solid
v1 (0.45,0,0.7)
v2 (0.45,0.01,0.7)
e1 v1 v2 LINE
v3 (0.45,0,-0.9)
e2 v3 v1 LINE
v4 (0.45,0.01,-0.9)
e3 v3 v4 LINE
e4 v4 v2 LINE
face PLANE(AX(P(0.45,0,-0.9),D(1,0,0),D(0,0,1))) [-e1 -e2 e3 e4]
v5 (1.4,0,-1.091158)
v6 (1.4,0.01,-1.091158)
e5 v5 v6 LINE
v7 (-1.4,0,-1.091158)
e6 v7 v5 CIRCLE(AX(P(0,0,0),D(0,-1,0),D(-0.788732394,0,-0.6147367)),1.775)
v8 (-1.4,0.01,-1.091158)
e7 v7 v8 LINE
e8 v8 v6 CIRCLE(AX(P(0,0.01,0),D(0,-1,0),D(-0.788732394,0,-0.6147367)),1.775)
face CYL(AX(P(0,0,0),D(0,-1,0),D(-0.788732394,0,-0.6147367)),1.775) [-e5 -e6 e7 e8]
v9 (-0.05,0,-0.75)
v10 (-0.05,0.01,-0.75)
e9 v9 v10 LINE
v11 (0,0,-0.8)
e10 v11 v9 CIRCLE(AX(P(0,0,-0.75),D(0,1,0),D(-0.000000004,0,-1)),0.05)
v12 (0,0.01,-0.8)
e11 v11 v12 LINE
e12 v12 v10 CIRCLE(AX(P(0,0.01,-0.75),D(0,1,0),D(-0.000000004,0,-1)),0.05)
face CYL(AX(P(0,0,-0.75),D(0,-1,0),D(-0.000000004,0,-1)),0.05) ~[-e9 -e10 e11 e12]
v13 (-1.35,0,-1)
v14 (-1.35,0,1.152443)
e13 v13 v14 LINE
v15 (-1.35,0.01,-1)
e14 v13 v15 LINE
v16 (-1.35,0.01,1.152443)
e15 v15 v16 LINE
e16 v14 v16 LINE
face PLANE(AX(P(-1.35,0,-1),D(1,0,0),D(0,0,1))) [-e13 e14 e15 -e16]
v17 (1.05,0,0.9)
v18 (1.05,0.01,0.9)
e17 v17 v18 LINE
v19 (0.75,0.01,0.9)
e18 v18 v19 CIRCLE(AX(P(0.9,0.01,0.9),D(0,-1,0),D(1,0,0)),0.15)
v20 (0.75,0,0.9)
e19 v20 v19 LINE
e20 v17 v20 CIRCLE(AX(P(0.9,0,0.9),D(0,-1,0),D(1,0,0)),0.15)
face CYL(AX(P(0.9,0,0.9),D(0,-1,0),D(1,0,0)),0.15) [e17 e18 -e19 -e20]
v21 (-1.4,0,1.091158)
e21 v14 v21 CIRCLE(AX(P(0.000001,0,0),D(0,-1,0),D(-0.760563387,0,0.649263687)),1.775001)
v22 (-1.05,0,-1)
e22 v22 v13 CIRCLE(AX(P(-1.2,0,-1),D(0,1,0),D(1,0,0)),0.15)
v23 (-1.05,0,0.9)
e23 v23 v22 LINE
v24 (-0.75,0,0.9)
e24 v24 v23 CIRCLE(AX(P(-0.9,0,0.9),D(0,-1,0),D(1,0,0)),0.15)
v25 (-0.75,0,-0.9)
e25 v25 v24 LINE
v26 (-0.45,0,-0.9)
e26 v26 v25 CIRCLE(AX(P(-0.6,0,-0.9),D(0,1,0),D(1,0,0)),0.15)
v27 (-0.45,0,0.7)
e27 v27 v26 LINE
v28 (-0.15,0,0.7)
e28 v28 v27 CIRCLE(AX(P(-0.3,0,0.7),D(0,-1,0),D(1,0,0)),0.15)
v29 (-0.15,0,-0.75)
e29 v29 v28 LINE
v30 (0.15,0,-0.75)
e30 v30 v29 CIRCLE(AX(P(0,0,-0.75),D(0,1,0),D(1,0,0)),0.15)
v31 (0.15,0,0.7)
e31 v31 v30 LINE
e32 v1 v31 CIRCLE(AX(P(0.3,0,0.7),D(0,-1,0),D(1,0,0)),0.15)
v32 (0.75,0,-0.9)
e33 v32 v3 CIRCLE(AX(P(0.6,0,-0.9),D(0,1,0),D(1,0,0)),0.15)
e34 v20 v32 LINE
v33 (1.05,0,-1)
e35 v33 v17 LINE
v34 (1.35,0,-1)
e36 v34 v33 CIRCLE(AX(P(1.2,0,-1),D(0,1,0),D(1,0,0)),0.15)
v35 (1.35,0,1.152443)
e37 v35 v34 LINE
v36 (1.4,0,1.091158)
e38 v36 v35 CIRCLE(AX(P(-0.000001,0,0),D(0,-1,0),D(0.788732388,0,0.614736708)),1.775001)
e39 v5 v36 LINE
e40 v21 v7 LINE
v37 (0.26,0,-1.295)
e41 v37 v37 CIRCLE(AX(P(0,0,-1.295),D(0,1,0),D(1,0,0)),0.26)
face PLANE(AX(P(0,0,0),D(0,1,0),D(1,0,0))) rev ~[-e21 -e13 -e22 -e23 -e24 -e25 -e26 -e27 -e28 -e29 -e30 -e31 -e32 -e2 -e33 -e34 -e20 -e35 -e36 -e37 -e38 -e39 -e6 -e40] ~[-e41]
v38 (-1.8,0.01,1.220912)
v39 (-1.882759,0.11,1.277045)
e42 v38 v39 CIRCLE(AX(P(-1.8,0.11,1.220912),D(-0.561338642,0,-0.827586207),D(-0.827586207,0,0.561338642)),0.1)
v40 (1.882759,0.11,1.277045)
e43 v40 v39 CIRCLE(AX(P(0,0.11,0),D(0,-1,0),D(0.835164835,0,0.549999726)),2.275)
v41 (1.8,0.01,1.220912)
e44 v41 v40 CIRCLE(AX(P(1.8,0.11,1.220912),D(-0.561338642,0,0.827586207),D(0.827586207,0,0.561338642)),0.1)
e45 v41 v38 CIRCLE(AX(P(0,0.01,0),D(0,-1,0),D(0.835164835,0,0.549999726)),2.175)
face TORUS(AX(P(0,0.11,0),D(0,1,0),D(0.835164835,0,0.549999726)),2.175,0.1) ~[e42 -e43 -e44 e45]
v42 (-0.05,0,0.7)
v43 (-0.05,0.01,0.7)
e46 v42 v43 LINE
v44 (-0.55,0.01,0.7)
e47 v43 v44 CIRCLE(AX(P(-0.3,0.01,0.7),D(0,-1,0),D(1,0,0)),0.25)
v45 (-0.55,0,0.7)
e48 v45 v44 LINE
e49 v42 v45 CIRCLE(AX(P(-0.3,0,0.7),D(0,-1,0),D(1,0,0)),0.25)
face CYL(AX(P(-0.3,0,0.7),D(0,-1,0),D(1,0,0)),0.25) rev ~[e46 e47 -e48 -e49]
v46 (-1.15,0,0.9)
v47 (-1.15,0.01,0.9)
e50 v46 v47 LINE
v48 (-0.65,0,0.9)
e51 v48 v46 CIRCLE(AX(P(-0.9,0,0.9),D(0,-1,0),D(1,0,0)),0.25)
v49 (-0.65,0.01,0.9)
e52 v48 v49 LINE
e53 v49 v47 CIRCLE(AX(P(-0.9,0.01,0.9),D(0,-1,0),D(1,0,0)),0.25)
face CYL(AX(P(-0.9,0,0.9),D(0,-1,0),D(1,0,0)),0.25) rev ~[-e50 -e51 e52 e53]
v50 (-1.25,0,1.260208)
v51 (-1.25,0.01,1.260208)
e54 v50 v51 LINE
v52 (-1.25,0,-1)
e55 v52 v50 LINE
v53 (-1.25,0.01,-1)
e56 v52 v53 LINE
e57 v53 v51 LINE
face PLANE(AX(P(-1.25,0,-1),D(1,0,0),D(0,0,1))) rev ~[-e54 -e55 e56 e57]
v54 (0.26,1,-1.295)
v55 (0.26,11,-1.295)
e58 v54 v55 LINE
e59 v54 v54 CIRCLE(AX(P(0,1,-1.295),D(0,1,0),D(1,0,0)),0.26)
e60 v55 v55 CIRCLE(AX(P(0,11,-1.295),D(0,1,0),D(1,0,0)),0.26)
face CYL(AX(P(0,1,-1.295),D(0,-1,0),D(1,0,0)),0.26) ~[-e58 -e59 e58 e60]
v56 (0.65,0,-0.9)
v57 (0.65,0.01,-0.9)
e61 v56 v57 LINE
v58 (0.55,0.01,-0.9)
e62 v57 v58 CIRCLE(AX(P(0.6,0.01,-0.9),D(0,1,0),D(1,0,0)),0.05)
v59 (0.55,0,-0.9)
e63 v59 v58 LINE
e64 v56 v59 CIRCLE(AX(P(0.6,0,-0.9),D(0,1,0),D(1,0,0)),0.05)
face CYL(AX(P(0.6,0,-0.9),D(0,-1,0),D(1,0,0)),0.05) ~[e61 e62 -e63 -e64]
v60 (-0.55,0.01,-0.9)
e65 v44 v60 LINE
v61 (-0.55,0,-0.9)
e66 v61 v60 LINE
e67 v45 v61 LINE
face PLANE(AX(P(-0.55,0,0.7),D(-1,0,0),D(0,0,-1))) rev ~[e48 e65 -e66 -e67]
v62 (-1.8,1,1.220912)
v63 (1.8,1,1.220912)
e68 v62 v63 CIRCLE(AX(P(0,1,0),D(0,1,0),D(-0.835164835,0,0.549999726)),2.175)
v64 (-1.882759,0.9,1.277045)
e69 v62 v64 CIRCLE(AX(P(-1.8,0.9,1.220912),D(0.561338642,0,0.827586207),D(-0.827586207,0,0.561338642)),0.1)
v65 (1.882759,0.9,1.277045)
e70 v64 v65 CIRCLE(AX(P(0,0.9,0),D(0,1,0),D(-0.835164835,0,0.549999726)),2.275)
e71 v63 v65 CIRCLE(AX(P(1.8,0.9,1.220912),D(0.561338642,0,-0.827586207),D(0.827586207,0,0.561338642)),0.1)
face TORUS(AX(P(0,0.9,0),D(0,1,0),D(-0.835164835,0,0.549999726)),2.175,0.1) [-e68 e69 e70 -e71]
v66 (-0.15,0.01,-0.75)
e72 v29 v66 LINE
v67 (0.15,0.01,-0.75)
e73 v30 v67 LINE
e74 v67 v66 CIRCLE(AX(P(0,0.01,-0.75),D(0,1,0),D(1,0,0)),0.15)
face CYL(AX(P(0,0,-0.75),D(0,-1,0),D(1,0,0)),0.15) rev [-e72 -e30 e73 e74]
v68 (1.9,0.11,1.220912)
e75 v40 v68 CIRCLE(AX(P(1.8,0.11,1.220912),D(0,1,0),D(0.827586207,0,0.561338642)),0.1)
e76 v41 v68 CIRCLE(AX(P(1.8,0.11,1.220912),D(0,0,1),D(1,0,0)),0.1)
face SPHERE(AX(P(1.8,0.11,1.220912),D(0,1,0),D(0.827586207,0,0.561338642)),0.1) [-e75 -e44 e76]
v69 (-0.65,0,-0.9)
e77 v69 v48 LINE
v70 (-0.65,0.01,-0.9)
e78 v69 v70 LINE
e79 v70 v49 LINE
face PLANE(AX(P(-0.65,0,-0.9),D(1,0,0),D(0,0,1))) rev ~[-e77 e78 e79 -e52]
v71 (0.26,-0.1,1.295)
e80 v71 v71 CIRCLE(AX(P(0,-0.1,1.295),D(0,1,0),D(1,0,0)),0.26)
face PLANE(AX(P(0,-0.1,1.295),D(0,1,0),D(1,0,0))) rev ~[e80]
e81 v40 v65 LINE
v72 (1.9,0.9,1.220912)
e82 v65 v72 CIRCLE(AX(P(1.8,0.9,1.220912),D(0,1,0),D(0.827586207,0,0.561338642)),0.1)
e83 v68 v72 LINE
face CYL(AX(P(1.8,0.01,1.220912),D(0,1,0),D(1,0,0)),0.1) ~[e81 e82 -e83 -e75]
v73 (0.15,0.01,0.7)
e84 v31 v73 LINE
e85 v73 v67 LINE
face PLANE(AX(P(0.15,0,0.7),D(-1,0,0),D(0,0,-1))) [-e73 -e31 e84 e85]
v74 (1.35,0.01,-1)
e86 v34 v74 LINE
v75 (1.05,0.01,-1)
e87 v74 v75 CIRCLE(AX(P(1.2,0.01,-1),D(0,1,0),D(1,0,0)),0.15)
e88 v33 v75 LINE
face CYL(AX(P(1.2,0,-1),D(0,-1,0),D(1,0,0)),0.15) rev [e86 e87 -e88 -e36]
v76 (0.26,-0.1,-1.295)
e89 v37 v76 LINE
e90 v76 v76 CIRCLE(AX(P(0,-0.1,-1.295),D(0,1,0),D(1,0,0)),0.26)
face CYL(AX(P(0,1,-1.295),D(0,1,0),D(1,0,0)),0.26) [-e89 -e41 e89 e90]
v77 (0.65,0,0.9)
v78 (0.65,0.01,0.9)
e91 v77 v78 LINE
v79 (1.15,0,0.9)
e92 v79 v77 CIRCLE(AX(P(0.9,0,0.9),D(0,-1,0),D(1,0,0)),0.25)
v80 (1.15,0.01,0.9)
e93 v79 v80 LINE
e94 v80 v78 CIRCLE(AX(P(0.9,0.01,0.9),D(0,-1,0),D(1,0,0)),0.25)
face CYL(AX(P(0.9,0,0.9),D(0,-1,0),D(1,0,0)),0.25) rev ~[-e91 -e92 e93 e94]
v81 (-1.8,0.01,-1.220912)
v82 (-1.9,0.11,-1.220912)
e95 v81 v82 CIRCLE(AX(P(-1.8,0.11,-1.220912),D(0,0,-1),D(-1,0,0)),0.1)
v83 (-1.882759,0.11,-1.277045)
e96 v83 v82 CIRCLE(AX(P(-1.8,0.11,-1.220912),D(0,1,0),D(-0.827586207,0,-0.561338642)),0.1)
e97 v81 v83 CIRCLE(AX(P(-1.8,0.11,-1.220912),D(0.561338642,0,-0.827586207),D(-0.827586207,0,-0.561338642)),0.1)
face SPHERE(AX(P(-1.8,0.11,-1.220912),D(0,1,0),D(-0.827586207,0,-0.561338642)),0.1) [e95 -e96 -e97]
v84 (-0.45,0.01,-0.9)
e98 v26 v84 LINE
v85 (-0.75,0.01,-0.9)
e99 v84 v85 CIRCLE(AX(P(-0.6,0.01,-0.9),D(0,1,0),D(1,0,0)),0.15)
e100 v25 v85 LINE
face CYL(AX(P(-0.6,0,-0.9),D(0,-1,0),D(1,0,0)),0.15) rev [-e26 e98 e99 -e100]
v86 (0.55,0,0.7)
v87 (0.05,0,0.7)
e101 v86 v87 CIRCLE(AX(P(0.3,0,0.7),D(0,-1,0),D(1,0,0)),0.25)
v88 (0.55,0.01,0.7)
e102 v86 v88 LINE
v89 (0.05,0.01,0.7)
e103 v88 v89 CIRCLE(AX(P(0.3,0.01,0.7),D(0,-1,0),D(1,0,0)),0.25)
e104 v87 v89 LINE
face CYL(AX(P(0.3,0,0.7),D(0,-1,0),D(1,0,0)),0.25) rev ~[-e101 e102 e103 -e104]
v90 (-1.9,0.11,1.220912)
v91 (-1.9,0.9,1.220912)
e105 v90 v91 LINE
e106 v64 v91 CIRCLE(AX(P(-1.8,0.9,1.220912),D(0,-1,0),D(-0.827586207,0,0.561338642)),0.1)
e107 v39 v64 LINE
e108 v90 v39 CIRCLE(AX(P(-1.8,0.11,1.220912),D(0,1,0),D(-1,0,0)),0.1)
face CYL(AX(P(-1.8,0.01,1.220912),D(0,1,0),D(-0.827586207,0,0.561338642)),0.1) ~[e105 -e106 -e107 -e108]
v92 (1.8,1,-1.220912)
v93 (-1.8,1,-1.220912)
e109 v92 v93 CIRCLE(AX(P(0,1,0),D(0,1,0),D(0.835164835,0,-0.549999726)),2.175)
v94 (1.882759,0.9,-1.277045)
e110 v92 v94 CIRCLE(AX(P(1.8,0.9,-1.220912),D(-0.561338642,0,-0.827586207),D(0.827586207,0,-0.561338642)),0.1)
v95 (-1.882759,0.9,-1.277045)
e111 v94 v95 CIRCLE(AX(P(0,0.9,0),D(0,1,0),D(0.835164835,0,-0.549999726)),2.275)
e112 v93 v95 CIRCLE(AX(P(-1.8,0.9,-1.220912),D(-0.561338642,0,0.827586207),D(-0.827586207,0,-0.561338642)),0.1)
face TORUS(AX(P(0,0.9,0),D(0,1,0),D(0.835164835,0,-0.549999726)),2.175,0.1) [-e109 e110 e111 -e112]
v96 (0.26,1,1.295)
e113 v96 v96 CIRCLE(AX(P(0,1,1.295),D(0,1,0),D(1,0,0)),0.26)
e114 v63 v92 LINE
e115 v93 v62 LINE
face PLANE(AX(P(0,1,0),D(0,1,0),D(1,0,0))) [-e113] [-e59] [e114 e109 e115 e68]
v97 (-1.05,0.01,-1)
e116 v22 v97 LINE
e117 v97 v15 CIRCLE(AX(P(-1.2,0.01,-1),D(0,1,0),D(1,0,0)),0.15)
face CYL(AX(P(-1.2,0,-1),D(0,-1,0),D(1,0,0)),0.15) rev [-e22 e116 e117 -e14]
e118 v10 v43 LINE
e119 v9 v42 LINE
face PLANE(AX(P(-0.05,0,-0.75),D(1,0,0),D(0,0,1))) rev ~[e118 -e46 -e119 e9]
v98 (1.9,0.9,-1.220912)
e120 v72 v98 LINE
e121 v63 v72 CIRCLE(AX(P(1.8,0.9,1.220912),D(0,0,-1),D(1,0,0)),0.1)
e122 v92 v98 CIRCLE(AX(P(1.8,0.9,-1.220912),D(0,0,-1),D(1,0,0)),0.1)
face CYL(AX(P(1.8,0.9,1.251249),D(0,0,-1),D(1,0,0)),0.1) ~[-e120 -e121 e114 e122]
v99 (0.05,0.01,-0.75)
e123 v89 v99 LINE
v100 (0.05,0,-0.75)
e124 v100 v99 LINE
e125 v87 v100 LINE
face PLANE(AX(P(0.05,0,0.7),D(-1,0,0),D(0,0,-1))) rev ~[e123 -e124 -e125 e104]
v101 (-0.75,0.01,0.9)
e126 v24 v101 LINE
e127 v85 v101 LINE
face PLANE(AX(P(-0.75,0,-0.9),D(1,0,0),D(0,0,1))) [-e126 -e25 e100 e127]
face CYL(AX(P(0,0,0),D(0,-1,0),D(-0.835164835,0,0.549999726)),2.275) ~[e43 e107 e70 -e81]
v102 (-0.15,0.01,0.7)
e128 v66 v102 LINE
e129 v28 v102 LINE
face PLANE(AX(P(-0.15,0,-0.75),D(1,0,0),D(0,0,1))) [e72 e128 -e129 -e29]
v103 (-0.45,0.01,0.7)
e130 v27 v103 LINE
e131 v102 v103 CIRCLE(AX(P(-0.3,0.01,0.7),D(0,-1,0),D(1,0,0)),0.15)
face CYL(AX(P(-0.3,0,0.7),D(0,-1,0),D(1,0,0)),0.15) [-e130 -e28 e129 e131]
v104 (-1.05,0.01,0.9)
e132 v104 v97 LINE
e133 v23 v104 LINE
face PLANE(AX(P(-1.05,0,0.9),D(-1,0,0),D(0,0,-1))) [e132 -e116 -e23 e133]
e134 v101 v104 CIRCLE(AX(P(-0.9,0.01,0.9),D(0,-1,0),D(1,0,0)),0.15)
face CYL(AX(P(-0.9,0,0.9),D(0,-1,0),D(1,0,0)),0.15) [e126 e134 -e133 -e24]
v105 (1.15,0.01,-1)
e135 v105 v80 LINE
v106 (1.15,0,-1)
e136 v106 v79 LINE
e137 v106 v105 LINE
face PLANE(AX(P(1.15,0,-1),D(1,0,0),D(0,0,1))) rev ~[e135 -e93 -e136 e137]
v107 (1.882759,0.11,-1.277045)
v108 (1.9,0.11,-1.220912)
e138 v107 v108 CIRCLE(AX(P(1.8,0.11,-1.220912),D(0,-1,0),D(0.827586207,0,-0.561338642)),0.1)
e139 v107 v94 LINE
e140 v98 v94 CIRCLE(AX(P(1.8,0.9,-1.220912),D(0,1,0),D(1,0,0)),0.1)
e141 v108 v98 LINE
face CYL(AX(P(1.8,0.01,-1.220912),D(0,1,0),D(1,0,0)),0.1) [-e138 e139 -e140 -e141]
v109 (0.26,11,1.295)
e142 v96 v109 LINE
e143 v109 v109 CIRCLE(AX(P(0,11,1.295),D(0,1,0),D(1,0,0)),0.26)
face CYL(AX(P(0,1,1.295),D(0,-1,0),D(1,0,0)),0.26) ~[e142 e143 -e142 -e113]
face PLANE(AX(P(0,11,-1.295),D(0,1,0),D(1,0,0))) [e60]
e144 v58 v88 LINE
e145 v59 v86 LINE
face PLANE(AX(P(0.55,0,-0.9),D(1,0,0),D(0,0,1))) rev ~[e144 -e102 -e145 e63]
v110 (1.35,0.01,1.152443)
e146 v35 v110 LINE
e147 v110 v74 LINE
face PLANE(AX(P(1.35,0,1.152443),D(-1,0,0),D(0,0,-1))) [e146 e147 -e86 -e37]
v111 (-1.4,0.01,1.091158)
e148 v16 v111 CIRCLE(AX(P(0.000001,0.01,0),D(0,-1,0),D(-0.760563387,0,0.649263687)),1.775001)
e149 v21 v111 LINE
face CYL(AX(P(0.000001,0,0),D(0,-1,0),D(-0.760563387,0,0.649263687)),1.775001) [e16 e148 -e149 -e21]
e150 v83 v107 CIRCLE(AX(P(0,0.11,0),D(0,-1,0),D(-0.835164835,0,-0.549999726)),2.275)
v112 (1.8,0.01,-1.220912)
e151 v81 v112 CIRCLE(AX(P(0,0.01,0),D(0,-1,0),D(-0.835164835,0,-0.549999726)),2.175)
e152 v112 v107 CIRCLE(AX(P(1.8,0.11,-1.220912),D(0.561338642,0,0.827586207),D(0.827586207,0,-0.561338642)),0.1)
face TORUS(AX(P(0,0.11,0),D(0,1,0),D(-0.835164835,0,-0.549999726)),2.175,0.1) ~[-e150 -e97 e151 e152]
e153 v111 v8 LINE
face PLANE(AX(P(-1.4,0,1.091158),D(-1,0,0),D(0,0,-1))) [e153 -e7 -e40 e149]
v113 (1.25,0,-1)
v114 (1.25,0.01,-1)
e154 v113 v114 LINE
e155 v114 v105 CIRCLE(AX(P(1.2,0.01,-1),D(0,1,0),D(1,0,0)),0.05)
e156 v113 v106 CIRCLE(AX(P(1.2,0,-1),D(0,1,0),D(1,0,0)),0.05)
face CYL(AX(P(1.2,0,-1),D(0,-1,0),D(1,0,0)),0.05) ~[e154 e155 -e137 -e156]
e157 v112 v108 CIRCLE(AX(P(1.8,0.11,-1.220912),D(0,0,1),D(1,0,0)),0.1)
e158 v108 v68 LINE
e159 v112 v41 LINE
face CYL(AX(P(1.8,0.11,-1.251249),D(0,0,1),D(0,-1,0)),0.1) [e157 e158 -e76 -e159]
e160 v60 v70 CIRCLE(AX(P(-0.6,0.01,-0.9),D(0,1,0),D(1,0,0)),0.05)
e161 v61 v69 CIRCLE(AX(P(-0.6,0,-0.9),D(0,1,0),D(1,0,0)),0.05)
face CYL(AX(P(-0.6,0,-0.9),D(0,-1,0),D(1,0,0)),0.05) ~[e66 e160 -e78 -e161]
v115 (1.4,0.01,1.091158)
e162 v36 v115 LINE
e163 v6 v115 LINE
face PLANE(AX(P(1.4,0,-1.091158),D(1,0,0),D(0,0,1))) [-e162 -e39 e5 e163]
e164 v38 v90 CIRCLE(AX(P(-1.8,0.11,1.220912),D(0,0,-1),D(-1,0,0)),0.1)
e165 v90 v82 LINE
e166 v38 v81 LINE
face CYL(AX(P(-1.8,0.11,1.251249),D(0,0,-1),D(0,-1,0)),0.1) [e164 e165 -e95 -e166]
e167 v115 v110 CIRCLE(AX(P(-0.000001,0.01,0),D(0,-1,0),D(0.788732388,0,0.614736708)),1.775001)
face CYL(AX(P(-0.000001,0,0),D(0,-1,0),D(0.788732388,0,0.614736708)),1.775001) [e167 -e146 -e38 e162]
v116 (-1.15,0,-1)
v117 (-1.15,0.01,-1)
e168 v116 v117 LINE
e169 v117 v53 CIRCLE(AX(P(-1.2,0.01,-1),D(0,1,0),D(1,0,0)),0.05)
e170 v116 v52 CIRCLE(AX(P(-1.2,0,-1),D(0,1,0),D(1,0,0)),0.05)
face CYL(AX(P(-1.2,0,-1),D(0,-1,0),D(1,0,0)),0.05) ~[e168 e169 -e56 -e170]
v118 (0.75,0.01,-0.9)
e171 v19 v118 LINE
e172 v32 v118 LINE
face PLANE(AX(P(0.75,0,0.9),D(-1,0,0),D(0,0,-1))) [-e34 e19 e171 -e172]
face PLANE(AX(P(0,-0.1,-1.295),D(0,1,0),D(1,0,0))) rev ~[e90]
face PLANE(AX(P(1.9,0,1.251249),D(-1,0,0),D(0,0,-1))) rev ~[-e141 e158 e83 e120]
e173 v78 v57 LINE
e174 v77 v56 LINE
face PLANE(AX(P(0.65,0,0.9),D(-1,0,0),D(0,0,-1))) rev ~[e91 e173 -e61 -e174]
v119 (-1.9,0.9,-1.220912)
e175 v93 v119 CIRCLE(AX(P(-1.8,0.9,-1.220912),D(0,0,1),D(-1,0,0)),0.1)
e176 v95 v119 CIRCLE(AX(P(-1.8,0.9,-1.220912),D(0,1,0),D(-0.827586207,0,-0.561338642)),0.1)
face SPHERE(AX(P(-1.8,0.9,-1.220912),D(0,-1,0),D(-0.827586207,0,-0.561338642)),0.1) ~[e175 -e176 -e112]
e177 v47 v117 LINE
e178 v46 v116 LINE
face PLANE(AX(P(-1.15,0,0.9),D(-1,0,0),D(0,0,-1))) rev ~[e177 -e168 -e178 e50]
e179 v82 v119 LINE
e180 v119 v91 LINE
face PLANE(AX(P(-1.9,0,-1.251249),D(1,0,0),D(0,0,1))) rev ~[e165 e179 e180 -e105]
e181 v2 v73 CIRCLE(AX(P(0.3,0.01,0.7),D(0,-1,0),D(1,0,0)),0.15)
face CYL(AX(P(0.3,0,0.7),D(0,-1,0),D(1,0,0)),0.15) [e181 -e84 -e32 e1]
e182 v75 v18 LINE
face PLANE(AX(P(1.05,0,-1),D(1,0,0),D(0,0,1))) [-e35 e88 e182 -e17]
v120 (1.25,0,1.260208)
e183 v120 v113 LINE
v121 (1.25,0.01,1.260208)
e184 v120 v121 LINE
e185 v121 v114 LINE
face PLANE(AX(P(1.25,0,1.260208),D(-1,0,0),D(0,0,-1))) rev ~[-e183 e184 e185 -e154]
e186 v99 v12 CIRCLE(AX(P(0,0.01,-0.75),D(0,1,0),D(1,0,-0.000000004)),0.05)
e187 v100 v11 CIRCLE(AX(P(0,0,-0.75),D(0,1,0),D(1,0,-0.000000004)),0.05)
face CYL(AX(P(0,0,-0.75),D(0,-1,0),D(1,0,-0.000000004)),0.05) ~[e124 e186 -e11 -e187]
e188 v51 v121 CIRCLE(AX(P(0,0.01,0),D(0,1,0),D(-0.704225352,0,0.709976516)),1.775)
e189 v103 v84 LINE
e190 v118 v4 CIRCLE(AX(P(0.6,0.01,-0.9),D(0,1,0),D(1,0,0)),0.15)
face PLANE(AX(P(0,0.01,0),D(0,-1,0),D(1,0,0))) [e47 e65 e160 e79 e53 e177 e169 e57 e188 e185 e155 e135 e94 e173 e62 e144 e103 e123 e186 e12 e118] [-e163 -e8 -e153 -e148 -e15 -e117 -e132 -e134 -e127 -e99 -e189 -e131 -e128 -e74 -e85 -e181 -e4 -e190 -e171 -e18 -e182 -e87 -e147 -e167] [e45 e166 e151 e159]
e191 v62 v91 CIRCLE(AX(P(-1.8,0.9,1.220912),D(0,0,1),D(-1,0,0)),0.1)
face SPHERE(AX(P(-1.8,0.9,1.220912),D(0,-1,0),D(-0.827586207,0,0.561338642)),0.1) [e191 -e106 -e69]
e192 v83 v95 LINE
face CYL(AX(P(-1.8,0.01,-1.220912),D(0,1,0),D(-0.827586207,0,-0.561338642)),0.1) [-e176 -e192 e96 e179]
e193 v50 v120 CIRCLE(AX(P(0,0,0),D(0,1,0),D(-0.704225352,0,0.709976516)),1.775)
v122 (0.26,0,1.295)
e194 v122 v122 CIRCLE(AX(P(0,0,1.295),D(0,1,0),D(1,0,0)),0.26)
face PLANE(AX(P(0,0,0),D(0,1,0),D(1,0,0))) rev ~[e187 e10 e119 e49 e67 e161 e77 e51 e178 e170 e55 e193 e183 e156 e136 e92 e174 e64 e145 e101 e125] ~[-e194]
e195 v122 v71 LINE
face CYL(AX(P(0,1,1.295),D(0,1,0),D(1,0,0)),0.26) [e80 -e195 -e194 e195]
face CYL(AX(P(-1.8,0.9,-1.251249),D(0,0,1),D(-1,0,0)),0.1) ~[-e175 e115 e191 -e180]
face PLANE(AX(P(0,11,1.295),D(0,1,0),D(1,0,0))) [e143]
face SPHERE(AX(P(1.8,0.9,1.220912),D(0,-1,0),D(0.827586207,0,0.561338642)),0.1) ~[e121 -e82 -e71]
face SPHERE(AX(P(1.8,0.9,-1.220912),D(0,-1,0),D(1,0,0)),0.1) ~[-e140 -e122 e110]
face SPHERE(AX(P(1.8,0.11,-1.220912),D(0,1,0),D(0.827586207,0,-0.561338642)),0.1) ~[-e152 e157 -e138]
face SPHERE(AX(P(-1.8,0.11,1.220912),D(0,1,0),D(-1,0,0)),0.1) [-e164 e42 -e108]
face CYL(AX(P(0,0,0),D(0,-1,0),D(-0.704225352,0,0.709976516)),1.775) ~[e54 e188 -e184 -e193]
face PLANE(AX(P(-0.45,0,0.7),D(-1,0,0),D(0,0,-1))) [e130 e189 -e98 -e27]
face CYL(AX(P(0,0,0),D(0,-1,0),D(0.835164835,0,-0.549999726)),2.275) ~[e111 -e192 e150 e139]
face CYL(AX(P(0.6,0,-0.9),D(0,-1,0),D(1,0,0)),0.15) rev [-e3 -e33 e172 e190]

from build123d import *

# Parameters (mm, degrees)
BOSS_EXTRUDE1_DEPTH      = 1
SKETCH2_R                = 0.26
BOSS_EXTRUDE2_DEPTH      = 10
BOSS_EXTRUDE2_DEPTH_BACK = 1.1
CUT_EXTRUDE1_DEPTH       = 0.01
FILLET1_R                = 0.1


with BuildPart() as part:
    # Sketch1 → Boss-Extrude1 (new body)
    with BuildSketch(Plane(origin=(0, 0, 0), x_dir=(1, 0, 0), z_dir=(0, 1, 0))):
        with BuildLine():
            Line((-1.9, 1.251249376), (-1.9, -1.251249376))
            ThreePointArc((-1.9, -1.251249376), (0, -2.275), (1.9, -1.251249376))
            Line((1.9, -1.251249376), (1.9, 1.251249376))
            ThreePointArc((1.9, 1.251249376), (0, 2.275), (-1.9, 1.251249376))
        make_face()
    extrude(amount=BOSS_EXTRUDE1_DEPTH)

    # Sketch2 → Boss-Extrude2 (add, two sides)
    with BuildSketch(Plane(origin=(0, 1, 0), x_dir=(1, 0, 0), z_dir=(0, 1, 0))) as boss_extrude2_sk:
        with Locations((0, 1.295)):
            Circle(SKETCH2_R)
        with Locations((0, -1.295)):
            Circle(SKETCH2_R)
    extrude(amount=BOSS_EXTRUDE2_DEPTH)
    extrude(boss_extrude2_sk.sketch, amount=-BOSS_EXTRUDE2_DEPTH_BACK)

    # Sketch4 → Cut-Extrude1 (cut)
    with BuildSketch(Plane.XZ):
        with BuildLine():
            Line((1.9, -1.251249376), (1.9, 1.251249376))
            ThreePointArc((1.9, 1.251249376), (0, 2.275), (-1.9, 1.251249376))
            Line((-1.9, 1.251249376), (-1.9, -1.251249376))
            ThreePointArc((-1.9, -1.251249376), (0, -2.275), (1.9, -1.251249376))
        make_face()
        with BuildLine():
            Line((-1.4, 1.091157642), (-1.4, -1.091157642))
            ThreePointArc((-1.4, -1.091157642), (0, -1.775), (1.4, -1.091157642))
            Line((1.4, -1.091157642), (1.4, 1.091157642))
            ThreePointArc((1.4, 1.091157642), (1.375341403, 1.122078885), (1.35, 1.152443057))
            Line((1.35, 1.152443057), (1.35, -1))
            ThreePointArc((1.35, -1), (1.2, -1.15), (1.05, -1))
            Line((1.05, -1), (1.05, 0.9))
            ThreePointArc((1.05, 0.9), (0.9, 1.05), (0.75, 0.9))
            Line((0.75, 0.9), (0.75, -0.9))
            ThreePointArc((0.75, -0.9), (0.6, -1.05), (0.45, -0.9))
            Line((0.45, -0.9), (0.45, 0.7))
            ThreePointArc((0.45, 0.7), (0.3, 0.85), (0.15, 0.7))
            Line((0.15, 0.7), (0.15, -0.75))
            ThreePointArc((0.15, -0.75), (0, -0.9), (-0.15, -0.75))
            Line((-0.15, -0.75), (-0.15, 0.7))
            ThreePointArc((-0.15, 0.7), (-0.3, 0.85), (-0.45, 0.7))
            Line((-0.45, 0.7), (-0.45, -0.9))
            ThreePointArc((-0.45, -0.9), (-0.6, -1.05), (-0.75, -0.9))
            Line((-0.75, -0.9), (-0.75, 0.9))
            ThreePointArc((-0.75, 0.9), (-0.9, 1.05), (-1.05, 0.9))
            Line((-1.05, 0.9), (-1.05, -1))
            ThreePointArc((-1.05, -1), (-1.2, -1.15), (-1.35, -1))
            Line((-1.35, -1), (-1.35, 1.152443057))
            ThreePointArc((-1.35, 1.152443057), (-1.375341403, 1.122078885), (-1.4, 1.091157642))
        make_face(mode=Mode.SUBTRACT)
        with BuildLine():
            Line((1.25, 1.152443057), (1.25, -1))
            ThreePointArc((1.25, -1), (1.2, -1.05), (1.15, -1))
            Line((1.15, -1), (1.15, 0.9))
            ThreePointArc((1.15, 0.9), (0.9, 1.15), (0.65, 0.9))
            Line((0.65, 0.9), (0.65, -0.9))
            ThreePointArc((0.65, -0.9), (0.6, -0.95), (0.55, -0.9))
            Line((0.55, -0.9), (0.55, 0.7))
            ThreePointArc((0.55, 0.7), (0.3, 0.95), (0.05, 0.7))
            Line((0.05, 0.7), (0.05, -0.75))
            ThreePointArc((0.05, -0.75), (0.035355339, -0.785355339), (0, -0.8))
            ThreePointArc((0, -0.8), (-0.035355339, -0.785355339), (-0.05, -0.75))
            Line((-0.05, -0.75), (-0.05, 0.7))
            ThreePointArc((-0.05, 0.7), (-0.3, 0.95), (-0.55, 0.7))
            Line((-0.55, 0.7), (-0.55, -0.9))
            ThreePointArc((-0.55, -0.9), (-0.6, -0.95), (-0.65, -0.9))
            Line((-0.65, -0.9), (-0.65, 0.9))
            ThreePointArc((-0.65, 0.9), (-0.9, 1.15), (-1.15, 0.9))
            Line((-1.15, 0.9), (-1.15, -1))
            ThreePointArc((-1.15, -1), (-1.2, -1.05), (-1.25, -1))
            Line((-1.25, -1), (-1.25, 1.152443057))
            Line((-1.25, 1.152443057), (-1.25, 1.260208316))
            ThreePointArc((-1.25, 1.260208316), (0, 1.775), (1.25, 1.260208316))
            Line((1.25, 1.260208316), (1.25, 1.152443057))
        make_face(mode=Mode.SUBTRACT)
    extrude(amount=-CUT_EXTRUDE1_DEPTH, mode=Mode.SUBTRACT)

    # Fillet1
    fillet1_edges = [part.edges().sort_by_distance(p)[0] for p in [
        (0, 1, 2.275),
        (1.9, 1, 0),
        (0, 1, -2.275),
        (0, 0.01, -2.275),
        (-1.9, 0.01, 0),
        (0, 0.01, 2.275),
        (1.9, 0.01, 0),
        (-1.9, 1, 0),
        (1.9, 0.505, -1.251249376),
        (1.9, 0.505, 1.251249376),
        (-1.9, 0.505, 1.251249376),
        (-1.9, 0.505, -1.251249376),
    ]]
    fillet(fillet1_edges, radius=FILLET1_R)


solid = part.part
